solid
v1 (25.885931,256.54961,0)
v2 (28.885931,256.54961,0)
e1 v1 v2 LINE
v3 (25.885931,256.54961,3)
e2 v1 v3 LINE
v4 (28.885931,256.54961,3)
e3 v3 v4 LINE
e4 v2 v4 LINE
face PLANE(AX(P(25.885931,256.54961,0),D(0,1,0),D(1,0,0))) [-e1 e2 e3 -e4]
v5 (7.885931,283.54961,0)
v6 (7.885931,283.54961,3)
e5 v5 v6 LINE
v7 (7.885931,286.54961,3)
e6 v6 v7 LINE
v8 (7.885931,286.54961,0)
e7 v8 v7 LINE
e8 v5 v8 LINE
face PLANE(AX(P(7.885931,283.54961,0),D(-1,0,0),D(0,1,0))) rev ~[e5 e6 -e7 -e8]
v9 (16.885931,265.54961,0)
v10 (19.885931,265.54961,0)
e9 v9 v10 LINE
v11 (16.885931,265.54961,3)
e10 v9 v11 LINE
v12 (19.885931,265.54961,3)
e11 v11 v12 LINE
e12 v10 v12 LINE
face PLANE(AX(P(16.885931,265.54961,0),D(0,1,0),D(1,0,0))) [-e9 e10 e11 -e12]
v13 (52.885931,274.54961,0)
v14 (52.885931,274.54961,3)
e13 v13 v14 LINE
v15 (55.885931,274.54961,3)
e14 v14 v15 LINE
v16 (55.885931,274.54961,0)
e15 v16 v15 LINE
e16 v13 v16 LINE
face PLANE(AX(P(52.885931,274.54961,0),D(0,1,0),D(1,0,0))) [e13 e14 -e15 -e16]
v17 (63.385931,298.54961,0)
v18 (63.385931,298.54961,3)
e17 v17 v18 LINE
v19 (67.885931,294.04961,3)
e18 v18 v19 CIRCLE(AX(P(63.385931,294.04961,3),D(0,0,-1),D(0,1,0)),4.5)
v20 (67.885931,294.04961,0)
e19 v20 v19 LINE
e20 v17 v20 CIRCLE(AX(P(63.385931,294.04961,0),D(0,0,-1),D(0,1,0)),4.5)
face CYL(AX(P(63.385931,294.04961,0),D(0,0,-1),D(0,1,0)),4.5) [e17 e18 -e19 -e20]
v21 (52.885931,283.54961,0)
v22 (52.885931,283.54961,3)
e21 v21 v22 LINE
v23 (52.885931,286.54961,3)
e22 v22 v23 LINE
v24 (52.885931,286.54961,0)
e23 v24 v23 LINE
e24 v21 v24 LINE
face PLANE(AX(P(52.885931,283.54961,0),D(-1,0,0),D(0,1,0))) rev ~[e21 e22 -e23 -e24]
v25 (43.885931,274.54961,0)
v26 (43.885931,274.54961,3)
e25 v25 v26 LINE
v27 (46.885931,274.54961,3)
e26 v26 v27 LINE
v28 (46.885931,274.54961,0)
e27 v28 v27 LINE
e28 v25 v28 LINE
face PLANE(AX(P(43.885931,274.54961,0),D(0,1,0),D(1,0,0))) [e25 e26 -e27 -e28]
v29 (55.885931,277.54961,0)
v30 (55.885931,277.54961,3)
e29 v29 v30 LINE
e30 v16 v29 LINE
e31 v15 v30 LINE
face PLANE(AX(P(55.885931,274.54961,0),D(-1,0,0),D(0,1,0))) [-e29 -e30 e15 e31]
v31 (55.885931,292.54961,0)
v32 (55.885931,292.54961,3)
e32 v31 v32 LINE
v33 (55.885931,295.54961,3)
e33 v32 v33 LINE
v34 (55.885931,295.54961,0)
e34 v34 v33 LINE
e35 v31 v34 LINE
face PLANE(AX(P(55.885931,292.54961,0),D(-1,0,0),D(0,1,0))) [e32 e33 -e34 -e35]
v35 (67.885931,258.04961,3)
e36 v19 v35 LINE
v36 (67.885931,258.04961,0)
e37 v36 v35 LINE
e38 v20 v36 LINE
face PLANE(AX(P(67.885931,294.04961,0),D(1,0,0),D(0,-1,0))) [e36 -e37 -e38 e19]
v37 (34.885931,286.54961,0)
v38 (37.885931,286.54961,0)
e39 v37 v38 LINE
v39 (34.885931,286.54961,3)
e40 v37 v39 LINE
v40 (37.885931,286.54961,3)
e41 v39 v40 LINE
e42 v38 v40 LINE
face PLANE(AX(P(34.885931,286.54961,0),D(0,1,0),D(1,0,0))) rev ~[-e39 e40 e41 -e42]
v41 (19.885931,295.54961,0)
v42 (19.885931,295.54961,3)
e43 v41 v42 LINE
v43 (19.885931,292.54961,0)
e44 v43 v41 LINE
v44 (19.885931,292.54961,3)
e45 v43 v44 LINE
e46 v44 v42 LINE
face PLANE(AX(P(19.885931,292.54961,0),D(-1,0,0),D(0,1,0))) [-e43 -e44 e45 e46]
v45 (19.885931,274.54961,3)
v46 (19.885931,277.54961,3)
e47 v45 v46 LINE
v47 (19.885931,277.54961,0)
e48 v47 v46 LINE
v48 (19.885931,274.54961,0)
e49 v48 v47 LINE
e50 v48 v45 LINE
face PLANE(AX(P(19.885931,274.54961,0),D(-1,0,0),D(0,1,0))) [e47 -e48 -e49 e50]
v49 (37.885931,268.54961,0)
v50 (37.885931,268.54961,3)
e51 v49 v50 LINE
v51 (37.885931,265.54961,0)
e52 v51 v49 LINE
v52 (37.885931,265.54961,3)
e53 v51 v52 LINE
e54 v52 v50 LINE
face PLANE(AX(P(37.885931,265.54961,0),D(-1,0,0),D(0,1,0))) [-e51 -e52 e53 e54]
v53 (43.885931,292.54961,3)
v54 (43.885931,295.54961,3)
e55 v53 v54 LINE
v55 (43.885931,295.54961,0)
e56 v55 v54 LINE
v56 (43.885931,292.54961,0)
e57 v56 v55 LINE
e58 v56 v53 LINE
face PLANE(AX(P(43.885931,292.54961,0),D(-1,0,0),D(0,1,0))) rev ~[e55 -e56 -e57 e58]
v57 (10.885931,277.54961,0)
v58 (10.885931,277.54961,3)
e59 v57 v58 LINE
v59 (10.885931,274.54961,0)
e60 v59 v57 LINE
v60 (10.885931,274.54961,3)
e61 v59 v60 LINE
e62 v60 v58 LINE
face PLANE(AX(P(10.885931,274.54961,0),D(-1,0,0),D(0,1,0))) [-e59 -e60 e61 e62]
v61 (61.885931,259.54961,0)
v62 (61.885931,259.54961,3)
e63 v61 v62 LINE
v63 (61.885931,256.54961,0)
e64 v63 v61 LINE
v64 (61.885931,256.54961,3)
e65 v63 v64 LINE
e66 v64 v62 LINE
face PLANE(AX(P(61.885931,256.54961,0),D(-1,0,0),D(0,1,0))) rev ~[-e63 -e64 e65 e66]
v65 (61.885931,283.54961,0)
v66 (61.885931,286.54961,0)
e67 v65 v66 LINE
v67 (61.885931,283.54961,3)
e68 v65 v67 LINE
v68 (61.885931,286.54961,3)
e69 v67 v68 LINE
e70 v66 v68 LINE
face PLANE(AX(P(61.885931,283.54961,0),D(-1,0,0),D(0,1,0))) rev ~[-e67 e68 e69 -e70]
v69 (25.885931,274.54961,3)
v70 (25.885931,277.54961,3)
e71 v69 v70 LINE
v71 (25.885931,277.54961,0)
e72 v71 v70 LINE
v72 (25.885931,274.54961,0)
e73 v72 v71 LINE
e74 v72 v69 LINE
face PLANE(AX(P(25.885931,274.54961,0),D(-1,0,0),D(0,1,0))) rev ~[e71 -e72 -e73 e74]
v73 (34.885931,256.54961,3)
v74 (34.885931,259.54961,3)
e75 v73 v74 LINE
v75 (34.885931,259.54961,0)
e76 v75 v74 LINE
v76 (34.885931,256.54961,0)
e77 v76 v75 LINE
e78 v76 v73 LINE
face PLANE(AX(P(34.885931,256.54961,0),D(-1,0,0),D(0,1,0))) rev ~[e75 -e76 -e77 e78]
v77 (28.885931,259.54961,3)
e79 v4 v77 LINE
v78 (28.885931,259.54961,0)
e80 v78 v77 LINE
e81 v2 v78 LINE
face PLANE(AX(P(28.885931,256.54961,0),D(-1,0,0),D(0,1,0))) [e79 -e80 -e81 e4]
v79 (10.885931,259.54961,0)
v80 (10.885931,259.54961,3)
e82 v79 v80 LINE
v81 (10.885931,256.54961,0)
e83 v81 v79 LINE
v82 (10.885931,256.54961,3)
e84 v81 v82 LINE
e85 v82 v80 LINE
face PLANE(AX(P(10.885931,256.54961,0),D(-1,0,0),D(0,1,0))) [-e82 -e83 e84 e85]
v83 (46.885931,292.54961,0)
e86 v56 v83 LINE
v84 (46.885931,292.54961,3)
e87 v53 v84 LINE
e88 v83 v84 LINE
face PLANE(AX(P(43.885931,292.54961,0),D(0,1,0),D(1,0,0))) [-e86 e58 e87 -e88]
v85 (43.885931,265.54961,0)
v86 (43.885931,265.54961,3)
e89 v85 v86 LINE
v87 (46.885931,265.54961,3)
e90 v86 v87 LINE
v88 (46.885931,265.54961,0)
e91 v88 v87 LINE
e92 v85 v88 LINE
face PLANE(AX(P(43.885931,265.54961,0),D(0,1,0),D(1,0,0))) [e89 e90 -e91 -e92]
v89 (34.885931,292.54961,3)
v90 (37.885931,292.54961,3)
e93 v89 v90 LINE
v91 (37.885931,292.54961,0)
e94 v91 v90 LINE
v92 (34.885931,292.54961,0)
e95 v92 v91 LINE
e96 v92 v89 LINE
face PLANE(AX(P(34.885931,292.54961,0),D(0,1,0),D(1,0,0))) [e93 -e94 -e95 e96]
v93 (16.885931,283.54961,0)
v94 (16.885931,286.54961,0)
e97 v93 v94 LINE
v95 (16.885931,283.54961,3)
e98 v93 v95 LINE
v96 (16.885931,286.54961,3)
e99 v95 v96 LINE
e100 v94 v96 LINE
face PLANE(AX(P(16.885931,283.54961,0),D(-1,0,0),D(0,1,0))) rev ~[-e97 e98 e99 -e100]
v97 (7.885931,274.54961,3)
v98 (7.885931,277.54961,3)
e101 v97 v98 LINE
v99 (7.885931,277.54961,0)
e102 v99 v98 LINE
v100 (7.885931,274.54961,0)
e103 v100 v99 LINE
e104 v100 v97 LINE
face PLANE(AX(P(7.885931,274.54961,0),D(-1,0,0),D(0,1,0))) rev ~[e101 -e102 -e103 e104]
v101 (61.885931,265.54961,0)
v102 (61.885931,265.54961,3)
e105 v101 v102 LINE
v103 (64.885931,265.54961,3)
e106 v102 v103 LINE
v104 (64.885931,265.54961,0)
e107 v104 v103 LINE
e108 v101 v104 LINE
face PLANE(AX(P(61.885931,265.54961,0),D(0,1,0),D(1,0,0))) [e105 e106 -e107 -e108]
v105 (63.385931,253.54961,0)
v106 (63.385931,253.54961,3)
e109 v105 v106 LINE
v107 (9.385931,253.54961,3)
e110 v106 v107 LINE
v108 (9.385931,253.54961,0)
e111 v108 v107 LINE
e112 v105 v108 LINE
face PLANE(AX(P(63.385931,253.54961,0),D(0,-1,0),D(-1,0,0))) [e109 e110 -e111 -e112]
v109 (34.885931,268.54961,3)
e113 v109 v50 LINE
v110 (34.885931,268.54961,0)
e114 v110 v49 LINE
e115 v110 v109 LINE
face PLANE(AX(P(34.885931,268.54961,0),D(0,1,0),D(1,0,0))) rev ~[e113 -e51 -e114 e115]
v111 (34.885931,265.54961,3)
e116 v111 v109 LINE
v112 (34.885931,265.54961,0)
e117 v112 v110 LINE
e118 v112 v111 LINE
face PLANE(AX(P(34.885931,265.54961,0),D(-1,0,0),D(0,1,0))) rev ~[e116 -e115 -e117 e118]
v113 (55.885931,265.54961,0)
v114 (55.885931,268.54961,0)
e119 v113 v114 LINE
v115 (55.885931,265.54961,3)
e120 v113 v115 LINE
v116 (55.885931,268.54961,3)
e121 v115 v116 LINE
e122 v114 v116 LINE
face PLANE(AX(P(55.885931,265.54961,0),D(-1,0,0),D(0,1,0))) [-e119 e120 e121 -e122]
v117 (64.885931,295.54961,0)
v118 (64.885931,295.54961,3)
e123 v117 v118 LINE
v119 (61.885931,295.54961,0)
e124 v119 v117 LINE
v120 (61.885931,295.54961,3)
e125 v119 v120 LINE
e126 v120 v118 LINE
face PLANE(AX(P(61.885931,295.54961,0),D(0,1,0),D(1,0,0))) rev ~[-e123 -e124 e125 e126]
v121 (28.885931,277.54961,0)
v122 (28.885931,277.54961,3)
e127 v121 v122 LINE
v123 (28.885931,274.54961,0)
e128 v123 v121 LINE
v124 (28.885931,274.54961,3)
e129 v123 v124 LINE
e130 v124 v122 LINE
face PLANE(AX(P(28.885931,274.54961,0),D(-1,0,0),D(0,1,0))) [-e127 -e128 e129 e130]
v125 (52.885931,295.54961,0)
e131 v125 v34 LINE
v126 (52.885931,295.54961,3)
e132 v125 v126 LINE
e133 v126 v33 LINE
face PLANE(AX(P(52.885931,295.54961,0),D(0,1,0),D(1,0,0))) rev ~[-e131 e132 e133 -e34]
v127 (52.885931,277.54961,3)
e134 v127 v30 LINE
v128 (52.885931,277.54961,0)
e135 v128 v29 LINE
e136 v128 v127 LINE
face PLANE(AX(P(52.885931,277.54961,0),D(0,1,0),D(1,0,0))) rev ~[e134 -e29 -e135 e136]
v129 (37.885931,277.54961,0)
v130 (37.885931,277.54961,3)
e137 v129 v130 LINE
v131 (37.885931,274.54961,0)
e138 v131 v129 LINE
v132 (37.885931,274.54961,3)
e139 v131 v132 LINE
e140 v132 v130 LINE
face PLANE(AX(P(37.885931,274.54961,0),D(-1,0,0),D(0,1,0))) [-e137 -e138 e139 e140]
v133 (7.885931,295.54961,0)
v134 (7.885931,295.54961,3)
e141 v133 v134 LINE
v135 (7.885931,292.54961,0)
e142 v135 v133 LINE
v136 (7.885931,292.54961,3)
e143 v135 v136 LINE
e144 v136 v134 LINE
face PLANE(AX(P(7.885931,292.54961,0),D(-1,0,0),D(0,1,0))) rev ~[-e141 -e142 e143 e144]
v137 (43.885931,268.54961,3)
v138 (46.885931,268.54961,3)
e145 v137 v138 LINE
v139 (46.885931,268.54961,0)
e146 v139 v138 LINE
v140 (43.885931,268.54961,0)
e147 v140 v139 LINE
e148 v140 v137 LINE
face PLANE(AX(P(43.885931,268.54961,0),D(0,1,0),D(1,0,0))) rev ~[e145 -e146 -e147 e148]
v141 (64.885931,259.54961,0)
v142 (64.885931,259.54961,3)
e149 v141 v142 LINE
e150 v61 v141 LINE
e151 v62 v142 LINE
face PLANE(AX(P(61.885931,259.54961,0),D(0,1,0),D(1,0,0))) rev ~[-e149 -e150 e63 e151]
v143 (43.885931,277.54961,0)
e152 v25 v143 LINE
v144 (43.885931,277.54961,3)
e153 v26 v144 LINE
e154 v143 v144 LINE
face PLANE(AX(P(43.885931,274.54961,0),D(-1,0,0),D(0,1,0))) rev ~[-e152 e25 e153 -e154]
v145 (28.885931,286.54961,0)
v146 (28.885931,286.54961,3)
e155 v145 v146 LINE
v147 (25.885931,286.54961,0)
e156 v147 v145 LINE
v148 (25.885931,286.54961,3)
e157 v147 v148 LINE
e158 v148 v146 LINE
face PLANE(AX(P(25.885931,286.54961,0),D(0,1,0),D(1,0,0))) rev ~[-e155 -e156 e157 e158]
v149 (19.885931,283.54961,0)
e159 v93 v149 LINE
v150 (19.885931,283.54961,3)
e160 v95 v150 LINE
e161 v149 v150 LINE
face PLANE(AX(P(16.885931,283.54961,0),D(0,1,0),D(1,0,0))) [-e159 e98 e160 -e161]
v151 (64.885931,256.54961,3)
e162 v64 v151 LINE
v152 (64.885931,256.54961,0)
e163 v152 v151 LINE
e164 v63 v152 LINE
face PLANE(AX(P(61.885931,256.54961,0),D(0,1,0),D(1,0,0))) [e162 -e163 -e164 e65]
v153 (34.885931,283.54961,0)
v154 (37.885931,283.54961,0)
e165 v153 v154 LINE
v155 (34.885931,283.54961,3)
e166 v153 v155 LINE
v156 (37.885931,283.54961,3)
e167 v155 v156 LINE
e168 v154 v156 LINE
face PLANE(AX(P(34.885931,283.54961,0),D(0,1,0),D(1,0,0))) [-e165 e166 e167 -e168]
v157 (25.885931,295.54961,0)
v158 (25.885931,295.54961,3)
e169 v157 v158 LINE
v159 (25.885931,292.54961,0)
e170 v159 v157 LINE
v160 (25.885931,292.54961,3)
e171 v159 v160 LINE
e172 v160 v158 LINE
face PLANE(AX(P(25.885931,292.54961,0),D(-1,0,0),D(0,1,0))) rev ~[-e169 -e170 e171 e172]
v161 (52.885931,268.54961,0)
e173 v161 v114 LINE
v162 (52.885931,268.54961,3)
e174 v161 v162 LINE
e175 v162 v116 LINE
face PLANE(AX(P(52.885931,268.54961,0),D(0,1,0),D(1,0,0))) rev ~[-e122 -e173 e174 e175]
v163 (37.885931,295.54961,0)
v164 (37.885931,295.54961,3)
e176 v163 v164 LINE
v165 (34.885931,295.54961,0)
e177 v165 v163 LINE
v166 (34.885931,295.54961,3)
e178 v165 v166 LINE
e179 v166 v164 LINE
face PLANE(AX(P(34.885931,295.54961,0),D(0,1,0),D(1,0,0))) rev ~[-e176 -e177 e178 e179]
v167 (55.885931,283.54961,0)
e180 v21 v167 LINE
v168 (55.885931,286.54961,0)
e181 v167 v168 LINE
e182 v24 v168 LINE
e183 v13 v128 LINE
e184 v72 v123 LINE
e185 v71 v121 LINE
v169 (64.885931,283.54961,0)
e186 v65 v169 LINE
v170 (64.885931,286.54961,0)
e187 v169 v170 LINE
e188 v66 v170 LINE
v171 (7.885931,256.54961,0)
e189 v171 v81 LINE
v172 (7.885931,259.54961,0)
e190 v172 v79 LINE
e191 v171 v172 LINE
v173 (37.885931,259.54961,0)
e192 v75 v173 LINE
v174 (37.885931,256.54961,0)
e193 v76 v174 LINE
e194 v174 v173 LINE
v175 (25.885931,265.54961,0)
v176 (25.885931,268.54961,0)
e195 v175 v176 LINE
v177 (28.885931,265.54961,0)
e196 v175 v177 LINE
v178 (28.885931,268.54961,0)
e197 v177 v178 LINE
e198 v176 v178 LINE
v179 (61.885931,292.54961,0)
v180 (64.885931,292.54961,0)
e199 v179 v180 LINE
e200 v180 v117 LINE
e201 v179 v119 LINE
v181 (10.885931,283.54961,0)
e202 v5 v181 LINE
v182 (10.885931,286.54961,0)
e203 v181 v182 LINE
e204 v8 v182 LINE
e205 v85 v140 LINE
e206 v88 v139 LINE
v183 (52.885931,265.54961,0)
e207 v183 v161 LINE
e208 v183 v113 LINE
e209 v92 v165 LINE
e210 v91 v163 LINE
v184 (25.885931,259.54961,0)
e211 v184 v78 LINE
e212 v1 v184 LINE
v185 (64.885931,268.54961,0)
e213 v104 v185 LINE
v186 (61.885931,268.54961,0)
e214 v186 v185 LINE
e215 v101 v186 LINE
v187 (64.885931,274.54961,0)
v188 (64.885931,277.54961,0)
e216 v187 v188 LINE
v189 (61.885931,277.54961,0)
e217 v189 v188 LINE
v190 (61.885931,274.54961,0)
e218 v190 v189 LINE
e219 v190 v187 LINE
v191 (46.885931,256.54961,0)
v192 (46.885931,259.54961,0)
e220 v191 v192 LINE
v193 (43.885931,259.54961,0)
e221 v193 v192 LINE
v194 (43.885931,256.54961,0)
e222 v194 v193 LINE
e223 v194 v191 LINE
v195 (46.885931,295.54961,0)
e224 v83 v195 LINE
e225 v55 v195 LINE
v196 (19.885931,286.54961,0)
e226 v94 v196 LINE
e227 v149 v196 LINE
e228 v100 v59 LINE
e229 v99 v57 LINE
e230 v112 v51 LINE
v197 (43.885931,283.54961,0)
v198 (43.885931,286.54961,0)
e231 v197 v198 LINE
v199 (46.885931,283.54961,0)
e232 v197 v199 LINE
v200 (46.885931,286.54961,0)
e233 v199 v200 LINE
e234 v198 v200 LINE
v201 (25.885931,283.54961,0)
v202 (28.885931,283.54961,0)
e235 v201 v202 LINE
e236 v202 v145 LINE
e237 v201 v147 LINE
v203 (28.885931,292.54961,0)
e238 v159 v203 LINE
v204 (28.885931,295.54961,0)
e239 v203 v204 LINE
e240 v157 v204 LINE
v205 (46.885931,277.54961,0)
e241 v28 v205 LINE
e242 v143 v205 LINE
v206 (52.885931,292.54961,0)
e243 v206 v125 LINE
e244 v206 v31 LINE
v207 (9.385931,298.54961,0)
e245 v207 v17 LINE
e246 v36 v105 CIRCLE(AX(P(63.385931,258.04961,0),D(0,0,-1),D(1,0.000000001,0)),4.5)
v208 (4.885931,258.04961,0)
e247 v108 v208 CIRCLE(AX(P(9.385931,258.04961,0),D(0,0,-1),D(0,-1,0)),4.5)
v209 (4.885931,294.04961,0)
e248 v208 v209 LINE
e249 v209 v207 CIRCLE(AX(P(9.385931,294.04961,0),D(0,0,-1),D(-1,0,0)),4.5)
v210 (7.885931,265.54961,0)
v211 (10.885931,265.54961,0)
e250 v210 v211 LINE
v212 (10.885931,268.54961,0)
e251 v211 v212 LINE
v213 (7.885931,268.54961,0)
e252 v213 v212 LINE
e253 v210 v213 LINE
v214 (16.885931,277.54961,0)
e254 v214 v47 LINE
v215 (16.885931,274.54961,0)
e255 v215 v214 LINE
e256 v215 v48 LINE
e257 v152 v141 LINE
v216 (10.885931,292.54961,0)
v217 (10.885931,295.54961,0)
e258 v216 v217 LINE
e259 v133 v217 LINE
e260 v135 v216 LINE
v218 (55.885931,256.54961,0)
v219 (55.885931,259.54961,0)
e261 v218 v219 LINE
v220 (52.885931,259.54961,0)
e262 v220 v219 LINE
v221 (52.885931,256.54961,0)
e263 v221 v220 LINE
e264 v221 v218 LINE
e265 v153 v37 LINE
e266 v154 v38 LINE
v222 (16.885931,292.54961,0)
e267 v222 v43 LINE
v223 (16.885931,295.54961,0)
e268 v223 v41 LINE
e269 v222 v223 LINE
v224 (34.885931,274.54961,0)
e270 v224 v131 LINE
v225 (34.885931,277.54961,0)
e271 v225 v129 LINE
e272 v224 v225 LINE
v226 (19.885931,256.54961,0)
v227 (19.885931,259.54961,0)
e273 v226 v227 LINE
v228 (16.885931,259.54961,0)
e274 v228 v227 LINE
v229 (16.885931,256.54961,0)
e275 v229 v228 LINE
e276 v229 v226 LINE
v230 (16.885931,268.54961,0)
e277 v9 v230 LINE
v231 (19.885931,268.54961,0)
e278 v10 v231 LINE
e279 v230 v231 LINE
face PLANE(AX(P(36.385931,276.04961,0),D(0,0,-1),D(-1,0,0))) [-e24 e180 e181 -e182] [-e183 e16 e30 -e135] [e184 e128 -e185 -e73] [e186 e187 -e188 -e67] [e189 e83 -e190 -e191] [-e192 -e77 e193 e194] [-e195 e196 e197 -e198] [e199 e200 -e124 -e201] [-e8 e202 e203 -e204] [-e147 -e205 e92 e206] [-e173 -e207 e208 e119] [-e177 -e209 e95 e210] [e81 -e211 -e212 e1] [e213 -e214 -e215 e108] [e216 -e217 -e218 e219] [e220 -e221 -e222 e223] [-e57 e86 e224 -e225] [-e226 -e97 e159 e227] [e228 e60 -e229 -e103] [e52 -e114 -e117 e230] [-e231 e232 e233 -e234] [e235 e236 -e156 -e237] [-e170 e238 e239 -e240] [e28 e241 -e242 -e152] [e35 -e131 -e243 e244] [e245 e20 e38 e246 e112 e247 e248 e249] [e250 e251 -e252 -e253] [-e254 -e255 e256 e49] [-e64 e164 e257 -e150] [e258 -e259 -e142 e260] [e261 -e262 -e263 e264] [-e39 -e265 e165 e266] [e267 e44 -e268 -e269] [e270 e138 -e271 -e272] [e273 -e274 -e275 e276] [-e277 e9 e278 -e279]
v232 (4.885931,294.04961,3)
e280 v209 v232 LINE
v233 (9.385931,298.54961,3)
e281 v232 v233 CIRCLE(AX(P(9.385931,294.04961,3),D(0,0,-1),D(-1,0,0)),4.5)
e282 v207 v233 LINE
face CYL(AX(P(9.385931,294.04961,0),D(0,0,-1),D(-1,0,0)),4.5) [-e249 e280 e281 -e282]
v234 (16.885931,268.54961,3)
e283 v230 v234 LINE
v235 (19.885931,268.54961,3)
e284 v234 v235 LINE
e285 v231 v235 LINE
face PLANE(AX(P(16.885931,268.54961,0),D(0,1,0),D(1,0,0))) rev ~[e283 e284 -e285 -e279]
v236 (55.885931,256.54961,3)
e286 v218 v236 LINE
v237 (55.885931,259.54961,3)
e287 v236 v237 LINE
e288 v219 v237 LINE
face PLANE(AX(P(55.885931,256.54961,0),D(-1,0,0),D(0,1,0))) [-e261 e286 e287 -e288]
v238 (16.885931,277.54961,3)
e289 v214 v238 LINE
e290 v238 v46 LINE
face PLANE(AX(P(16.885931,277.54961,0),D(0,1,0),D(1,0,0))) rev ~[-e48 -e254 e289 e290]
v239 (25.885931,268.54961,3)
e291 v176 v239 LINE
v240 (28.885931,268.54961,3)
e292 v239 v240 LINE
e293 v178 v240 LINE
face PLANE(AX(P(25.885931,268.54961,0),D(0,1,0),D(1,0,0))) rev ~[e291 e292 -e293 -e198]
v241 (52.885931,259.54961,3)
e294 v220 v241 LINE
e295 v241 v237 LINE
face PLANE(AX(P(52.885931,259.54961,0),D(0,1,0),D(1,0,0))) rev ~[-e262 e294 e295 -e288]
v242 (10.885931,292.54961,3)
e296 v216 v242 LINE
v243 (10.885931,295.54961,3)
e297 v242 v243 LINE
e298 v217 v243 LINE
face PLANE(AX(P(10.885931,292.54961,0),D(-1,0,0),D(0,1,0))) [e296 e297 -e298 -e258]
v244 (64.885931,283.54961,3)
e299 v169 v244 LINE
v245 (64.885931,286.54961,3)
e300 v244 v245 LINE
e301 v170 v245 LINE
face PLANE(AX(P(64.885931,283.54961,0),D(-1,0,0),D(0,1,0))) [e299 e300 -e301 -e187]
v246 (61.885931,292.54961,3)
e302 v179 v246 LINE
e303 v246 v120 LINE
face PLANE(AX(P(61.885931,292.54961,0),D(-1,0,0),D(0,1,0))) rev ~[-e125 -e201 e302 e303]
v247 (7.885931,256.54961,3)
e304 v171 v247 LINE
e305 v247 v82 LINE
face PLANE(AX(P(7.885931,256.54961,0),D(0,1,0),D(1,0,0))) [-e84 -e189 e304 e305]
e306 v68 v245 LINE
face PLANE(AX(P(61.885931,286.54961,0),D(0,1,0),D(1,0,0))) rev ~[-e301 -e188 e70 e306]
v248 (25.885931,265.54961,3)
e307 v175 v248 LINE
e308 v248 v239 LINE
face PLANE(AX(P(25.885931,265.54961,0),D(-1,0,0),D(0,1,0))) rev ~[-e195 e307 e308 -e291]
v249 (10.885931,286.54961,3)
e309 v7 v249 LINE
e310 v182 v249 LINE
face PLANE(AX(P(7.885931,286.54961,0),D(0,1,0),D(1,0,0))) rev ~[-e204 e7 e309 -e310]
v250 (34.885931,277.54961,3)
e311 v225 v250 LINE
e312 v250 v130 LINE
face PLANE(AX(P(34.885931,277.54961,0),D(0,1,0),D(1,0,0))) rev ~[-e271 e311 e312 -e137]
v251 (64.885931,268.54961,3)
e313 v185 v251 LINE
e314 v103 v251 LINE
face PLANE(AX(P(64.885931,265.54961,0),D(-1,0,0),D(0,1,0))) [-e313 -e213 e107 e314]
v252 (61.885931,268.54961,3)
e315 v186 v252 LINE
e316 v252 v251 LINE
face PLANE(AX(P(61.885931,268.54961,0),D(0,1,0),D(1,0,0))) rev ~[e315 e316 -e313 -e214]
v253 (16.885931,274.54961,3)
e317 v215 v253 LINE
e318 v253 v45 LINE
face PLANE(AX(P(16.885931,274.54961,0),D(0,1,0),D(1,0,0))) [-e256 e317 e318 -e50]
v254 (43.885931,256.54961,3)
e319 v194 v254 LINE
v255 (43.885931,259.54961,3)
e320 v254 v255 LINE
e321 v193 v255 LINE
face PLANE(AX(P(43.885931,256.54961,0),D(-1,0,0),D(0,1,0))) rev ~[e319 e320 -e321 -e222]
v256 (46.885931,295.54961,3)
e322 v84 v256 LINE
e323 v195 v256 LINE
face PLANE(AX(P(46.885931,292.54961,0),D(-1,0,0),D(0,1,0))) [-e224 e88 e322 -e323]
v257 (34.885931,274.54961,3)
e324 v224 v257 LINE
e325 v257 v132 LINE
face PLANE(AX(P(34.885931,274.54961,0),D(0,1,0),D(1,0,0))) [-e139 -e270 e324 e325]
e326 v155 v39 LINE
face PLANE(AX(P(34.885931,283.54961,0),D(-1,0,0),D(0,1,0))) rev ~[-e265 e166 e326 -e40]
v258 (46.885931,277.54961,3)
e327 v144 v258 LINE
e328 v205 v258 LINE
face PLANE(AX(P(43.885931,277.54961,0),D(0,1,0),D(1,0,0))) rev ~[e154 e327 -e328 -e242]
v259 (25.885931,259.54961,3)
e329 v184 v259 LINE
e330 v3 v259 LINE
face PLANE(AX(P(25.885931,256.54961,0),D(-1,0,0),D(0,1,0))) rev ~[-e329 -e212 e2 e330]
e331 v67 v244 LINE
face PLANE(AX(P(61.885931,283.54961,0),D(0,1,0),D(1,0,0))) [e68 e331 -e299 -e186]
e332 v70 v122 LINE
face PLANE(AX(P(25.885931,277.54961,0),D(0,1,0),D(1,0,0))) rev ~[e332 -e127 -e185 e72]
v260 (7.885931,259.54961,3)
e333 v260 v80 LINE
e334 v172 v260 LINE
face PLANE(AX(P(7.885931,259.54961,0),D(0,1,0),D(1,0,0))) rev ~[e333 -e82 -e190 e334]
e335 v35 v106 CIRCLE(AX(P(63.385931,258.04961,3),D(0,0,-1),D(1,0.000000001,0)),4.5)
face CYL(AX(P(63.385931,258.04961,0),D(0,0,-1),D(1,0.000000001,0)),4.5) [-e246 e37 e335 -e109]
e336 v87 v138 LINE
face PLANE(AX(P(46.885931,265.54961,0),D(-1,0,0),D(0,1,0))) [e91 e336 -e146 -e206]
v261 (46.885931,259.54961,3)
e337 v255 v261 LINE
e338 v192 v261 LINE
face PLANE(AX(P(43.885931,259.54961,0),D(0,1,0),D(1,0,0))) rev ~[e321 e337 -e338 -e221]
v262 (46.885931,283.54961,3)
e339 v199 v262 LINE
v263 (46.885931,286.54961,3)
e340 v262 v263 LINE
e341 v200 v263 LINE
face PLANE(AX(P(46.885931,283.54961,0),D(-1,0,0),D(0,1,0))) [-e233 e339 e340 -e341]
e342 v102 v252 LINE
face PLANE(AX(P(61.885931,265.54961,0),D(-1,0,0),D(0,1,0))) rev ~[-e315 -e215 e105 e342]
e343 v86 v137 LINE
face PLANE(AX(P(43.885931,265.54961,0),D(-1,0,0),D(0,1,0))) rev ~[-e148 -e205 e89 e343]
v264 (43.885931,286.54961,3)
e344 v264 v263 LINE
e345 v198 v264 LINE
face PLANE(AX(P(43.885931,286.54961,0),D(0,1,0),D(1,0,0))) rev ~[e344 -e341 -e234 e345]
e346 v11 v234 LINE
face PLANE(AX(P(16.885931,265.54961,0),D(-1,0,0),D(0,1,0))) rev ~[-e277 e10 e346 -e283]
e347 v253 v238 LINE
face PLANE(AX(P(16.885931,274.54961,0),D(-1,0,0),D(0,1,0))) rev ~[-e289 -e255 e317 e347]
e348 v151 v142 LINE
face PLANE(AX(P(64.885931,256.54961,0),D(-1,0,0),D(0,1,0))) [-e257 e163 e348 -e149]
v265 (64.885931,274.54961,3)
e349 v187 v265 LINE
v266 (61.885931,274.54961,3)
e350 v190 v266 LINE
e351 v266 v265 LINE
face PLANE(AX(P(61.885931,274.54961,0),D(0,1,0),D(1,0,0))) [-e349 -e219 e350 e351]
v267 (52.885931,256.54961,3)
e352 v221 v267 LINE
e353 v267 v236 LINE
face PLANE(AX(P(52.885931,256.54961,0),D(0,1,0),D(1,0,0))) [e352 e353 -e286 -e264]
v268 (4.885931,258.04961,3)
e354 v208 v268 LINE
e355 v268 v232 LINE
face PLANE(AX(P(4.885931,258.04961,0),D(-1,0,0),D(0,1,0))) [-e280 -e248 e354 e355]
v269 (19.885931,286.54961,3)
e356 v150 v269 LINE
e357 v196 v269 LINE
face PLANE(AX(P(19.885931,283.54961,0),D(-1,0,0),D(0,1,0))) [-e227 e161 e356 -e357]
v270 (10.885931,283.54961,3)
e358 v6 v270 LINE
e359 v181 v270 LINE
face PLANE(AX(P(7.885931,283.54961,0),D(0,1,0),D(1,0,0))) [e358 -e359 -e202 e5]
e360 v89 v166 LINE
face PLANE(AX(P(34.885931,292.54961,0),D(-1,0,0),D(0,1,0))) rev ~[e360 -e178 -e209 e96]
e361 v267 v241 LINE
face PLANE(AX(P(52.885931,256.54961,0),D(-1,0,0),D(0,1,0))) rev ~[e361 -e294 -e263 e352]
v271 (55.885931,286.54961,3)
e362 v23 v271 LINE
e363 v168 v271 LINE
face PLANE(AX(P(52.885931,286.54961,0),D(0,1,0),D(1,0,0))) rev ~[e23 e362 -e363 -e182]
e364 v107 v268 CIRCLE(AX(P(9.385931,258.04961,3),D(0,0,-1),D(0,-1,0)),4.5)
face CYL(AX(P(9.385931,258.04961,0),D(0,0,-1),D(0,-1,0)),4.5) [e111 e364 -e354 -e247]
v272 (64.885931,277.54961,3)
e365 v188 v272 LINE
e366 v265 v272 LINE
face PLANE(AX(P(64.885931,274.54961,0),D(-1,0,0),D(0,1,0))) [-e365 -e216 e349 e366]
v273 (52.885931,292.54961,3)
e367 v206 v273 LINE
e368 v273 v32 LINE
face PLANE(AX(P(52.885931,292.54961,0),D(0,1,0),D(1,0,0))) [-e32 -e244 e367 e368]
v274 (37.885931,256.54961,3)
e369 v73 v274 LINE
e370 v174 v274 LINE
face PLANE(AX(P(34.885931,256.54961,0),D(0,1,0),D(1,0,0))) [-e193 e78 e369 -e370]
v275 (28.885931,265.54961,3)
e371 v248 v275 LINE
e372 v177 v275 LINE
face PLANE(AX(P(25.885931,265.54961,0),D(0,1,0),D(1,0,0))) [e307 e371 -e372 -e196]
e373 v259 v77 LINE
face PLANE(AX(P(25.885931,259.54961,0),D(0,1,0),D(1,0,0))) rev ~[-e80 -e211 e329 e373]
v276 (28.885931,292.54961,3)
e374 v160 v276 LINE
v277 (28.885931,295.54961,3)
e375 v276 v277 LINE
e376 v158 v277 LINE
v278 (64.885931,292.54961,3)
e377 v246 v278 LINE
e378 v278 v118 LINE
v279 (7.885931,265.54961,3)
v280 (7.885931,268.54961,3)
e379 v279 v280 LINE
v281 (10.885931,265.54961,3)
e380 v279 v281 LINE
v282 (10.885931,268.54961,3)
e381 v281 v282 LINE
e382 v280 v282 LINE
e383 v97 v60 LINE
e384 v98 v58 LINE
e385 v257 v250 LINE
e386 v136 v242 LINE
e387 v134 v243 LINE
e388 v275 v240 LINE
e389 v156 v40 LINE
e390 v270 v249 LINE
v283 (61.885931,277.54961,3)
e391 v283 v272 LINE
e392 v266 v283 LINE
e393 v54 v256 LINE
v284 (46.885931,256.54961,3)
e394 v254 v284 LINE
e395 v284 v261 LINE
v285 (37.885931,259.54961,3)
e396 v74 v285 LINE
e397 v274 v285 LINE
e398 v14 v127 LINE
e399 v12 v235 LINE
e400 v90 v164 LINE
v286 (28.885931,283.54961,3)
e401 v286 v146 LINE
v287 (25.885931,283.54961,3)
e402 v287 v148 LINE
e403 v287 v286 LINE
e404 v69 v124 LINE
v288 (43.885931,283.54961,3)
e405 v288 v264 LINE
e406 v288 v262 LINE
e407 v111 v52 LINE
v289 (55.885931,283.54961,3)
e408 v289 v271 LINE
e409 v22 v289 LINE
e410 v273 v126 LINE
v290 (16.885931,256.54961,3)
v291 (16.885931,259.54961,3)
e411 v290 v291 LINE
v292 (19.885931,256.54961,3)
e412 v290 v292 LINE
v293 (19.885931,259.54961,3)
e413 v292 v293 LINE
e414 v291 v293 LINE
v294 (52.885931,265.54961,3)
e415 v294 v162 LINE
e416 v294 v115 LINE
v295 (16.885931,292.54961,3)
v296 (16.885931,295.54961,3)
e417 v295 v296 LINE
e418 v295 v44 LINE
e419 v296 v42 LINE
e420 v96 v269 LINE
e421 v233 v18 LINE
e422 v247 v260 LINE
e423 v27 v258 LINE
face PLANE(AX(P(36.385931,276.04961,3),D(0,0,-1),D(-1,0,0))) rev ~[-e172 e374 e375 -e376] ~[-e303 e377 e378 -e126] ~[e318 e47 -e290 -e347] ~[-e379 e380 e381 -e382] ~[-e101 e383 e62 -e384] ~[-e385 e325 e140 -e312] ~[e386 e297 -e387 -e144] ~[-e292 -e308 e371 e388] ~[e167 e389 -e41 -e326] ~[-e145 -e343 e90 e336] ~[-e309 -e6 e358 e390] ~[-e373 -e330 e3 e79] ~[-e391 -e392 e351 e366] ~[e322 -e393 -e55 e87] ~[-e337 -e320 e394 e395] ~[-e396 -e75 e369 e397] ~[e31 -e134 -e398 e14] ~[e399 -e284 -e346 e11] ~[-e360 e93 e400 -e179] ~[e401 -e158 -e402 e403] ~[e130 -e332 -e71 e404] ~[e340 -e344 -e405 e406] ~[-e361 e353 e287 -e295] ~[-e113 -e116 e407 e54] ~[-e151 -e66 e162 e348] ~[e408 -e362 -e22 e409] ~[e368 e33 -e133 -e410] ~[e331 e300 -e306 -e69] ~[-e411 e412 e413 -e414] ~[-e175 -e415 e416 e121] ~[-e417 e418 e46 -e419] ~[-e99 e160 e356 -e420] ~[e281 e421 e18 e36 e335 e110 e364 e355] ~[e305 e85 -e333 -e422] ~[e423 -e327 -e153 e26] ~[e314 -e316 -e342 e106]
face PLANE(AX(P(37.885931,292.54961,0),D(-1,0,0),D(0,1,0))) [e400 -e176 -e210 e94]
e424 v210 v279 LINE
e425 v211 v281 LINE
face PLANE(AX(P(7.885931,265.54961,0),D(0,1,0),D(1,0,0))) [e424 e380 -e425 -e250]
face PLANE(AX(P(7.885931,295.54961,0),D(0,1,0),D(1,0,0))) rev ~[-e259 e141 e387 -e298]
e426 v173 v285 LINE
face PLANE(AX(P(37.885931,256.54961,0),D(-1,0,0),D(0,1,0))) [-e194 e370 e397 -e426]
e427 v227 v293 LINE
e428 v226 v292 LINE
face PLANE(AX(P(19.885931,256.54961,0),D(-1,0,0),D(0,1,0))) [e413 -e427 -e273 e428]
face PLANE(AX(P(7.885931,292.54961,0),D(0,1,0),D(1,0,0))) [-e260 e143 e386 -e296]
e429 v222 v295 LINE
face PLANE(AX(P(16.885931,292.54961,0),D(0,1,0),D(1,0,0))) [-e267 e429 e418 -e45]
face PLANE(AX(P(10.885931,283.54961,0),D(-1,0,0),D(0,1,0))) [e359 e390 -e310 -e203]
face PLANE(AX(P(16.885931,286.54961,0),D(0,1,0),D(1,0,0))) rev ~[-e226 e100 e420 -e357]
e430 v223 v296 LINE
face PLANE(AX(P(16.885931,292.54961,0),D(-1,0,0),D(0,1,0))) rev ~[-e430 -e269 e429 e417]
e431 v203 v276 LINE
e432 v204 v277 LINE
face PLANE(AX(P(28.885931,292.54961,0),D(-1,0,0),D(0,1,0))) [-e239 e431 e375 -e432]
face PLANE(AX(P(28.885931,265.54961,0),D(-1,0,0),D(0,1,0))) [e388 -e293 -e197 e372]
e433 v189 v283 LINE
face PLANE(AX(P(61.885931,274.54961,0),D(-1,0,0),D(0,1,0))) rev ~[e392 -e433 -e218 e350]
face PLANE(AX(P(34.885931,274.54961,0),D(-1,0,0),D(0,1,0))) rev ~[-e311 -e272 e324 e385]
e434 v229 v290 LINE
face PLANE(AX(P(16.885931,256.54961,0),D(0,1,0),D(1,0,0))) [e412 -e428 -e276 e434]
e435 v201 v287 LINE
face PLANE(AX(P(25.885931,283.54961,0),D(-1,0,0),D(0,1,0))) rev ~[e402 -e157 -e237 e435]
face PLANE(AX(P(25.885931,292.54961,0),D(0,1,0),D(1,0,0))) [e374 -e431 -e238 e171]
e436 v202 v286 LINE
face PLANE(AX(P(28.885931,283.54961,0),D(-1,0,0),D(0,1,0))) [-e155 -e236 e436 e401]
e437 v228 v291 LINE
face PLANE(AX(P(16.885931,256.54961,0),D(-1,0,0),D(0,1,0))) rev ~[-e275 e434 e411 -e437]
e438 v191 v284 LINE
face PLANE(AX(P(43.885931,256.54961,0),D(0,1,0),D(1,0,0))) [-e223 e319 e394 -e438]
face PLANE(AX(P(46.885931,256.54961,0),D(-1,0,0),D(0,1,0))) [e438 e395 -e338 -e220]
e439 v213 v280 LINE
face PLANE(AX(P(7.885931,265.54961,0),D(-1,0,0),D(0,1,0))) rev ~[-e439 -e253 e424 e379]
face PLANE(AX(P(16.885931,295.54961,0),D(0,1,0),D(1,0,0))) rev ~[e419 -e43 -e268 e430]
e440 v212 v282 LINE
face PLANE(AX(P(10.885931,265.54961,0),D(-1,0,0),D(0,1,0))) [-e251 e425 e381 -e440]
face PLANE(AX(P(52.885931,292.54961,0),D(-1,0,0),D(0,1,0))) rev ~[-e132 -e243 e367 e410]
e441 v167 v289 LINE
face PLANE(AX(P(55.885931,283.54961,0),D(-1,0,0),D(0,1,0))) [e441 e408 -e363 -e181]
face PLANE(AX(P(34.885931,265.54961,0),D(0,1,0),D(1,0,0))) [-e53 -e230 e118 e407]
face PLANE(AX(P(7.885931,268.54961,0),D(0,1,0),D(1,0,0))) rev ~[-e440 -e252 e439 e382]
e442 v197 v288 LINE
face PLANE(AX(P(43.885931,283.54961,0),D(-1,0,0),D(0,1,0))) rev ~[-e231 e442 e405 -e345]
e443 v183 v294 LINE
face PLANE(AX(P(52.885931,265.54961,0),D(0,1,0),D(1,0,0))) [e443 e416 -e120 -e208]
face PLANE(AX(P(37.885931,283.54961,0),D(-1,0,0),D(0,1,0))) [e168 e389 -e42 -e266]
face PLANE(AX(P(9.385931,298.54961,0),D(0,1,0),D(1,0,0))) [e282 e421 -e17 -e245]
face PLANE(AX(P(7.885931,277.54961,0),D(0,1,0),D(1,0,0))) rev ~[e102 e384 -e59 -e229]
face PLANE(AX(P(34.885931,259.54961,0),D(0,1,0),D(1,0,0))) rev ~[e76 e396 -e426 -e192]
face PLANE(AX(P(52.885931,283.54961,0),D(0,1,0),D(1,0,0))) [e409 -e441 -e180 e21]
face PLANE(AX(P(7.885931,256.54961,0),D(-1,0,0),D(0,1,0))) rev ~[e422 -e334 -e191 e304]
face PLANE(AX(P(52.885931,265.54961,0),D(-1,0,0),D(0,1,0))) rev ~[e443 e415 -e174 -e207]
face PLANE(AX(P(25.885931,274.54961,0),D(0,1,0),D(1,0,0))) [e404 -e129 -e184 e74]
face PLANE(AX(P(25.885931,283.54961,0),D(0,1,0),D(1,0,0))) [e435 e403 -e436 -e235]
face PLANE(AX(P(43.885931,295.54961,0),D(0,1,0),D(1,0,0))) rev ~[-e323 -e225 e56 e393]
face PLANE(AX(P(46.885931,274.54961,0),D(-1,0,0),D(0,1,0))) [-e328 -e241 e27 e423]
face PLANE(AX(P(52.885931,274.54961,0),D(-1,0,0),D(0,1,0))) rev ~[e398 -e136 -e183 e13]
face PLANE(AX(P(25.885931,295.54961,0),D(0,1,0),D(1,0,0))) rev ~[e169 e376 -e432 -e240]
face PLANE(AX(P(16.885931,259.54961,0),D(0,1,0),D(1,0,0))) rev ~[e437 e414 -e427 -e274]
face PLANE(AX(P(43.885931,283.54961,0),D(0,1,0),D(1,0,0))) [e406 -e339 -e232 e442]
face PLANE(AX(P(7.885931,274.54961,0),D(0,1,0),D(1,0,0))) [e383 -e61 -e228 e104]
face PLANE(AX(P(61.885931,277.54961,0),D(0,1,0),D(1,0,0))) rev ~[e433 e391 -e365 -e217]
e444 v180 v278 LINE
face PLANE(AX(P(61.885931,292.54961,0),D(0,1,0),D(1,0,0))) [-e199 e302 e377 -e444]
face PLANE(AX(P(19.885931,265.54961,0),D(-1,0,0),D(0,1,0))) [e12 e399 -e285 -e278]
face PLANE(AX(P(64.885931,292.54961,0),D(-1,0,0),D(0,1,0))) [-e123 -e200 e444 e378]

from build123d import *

# Parameters (mm, degrees)
MODEL_W                 = 3
MODEL_H                 = 3
SALIENTE_EXTRUIR1_DEPTH = 3


with BuildPart() as part:
    # Model → Saliente-Extruir1 (new body)
    with BuildSketch(Plane.XY):
        with BuildLine():
            Line((9.385930567, 298.549610222), (63.385930567, 298.549610222))
            ThreePointArc((63.385930567, 298.549610222), (66.567911083, 297.231590737), (67.885930567, 294.049610222))
            Line((67.885930567, 294.049610222), (67.885930567, 258.049610222))
            ThreePointArc((67.885930567, 258.049610222), (66.567911083, 254.867629706), (63.385930567, 253.549610222))
            Line((63.385930567, 253.549610222), (9.385930567, 253.549610222))
            ThreePointArc((9.385930567, 253.549610222), (6.203950052, 254.867629706), (4.885930567, 258.049610222))
            Line((4.885930567, 258.049610222), (4.885930567, 294.049610222))
            ThreePointArc((4.885930567, 294.049610222), (6.203950052, 297.231590737), (9.385930567, 298.549610222))
        make_face()
        with Locations((9.385930567, 294.049610222)):
            Rectangle(MODEL_W, MODEL_H, mode=Mode.SUBTRACT)
        with Locations((18.385930567, 294.049610222)):
            Rectangle(MODEL_W, MODEL_H, mode=Mode.SUBTRACT)
        with Locations((27.385930567, 294.049610222)):
            Rectangle(MODEL_W, MODEL_H, mode=Mode.SUBTRACT)
        with Locations((54.385930567, 294.049610222)):
            Rectangle(MODEL_W, MODEL_H, mode=Mode.SUBTRACT)
        with Locations((63.385930567, 294.049610222)):
            Rectangle(MODEL_W, MODEL_H, mode=Mode.SUBTRACT)
        with Locations((9.385930567, 258.049610222)):
            Rectangle(MODEL_W, MODEL_H, mode=Mode.SUBTRACT)
        with Locations((18.385930567, 258.049610222)):
            Rectangle(MODEL_W, MODEL_H, mode=Mode.SUBTRACT)
        with Locations((27.385930567, 258.049610222)):
            Rectangle(MODEL_W, MODEL_H, mode=Mode.SUBTRACT)
        with Locations((54.385930567, 258.049610222)):
            Rectangle(MODEL_W, MODEL_H, mode=Mode.SUBTRACT)
        with Locations((63.385930567, 258.049610222)):
            Rectangle(MODEL_W, MODEL_H, mode=Mode.SUBTRACT)
        with Locations((9.385930567, 267.049610222)):
            Rectangle(MODEL_W, MODEL_H, mode=Mode.SUBTRACT)
        with Locations((18.385930567, 267.049610222)):
            Rectangle(MODEL_W, MODEL_H, mode=Mode.SUBTRACT)
        with Locations((27.385930567, 267.049610222)):
            Rectangle(MODEL_W, MODEL_H, mode=Mode.SUBTRACT)
        with Locations((54.385930567, 267.049610222)):
            Rectangle(MODEL_W, MODEL_H, mode=Mode.SUBTRACT)
        with Locations((63.385930567, 267.049610222)):
            Rectangle(MODEL_W, MODEL_H, mode=Mode.SUBTRACT)
        with Locations((36.385930567, 294.049610222)):
            Rectangle(MODEL_W, MODEL_H, mode=Mode.SUBTRACT)
        with Locations((45.385930567, 294.049610222)):
            Rectangle(MODEL_W, MODEL_H, mode=Mode.SUBTRACT)
        with Locations((36.385930567, 258.049610222)):
            Rectangle(MODEL_W, MODEL_H, mode=Mode.SUBTRACT)
        with Locations((45.385930567, 258.049610222)):
            Rectangle(MODEL_W, MODEL_H, mode=Mode.SUBTRACT)
        with Locations((36.385930567, 267.049610222)):
            Rectangle(MODEL_W, MODEL_H, mode=Mode.SUBTRACT)
        with Locations((45.385930567, 267.049610222)):
            Rectangle(MODEL_W, MODEL_H, mode=Mode.SUBTRACT)
        with Locations((9.385930567, 276.049610222)):
            Rectangle(MODEL_W, MODEL_H, mode=Mode.SUBTRACT)
        with Locations((18.385930567, 276.049610222)):
            Rectangle(MODEL_W, MODEL_H, mode=Mode.SUBTRACT)
        with Locations((27.385930567, 276.049610222)):
            Rectangle(MODEL_W, MODEL_H, mode=Mode.SUBTRACT)
        with Locations((54.385930567, 276.049610222)):
            Rectangle(MODEL_W, MODEL_H, mode=Mode.SUBTRACT)
        with Locations((63.385930567, 276.049610222)):
            Rectangle(MODEL_W, MODEL_H, mode=Mode.SUBTRACT)
        with Locations((9.385930567, 285.049610222)):
            Rectangle(MODEL_W, MODEL_H, mode=Mode.SUBTRACT)
        with Locations((18.385930567, 285.049610222)):
            Rectangle(MODEL_W, MODEL_H, mode=Mode.SUBTRACT)
        with Locations((27.385930567, 285.049610222)):
            Rectangle(MODEL_W, MODEL_H, mode=Mode.SUBTRACT)
        with Locations((54.385930567, 285.049610222)):
            Rectangle(MODEL_W, MODEL_H, mode=Mode.SUBTRACT)
        with Locations((63.385930567, 285.049610222)):
            Rectangle(MODEL_W, MODEL_H, mode=Mode.SUBTRACT)
        with Locations((36.385930567, 276.049610222)):
            Rectangle(MODEL_W, MODEL_H, mode=Mode.SUBTRACT)
        with Locations((45.385930567, 276.049610222)):
            Rectangle(MODEL_W, MODEL_H, mode=Mode.SUBTRACT)
        with Locations((36.385930567, 285.049610222)):
            Rectangle(MODEL_W, MODEL_H, mode=Mode.SUBTRACT)
        with Locations((45.385930567, 285.049610222)):
            Rectangle(MODEL_W, MODEL_H, mode=Mode.SUBTRACT)
    extrude(amount=SALIENTE_EXTRUIR1_DEPTH)


solid = part.part
